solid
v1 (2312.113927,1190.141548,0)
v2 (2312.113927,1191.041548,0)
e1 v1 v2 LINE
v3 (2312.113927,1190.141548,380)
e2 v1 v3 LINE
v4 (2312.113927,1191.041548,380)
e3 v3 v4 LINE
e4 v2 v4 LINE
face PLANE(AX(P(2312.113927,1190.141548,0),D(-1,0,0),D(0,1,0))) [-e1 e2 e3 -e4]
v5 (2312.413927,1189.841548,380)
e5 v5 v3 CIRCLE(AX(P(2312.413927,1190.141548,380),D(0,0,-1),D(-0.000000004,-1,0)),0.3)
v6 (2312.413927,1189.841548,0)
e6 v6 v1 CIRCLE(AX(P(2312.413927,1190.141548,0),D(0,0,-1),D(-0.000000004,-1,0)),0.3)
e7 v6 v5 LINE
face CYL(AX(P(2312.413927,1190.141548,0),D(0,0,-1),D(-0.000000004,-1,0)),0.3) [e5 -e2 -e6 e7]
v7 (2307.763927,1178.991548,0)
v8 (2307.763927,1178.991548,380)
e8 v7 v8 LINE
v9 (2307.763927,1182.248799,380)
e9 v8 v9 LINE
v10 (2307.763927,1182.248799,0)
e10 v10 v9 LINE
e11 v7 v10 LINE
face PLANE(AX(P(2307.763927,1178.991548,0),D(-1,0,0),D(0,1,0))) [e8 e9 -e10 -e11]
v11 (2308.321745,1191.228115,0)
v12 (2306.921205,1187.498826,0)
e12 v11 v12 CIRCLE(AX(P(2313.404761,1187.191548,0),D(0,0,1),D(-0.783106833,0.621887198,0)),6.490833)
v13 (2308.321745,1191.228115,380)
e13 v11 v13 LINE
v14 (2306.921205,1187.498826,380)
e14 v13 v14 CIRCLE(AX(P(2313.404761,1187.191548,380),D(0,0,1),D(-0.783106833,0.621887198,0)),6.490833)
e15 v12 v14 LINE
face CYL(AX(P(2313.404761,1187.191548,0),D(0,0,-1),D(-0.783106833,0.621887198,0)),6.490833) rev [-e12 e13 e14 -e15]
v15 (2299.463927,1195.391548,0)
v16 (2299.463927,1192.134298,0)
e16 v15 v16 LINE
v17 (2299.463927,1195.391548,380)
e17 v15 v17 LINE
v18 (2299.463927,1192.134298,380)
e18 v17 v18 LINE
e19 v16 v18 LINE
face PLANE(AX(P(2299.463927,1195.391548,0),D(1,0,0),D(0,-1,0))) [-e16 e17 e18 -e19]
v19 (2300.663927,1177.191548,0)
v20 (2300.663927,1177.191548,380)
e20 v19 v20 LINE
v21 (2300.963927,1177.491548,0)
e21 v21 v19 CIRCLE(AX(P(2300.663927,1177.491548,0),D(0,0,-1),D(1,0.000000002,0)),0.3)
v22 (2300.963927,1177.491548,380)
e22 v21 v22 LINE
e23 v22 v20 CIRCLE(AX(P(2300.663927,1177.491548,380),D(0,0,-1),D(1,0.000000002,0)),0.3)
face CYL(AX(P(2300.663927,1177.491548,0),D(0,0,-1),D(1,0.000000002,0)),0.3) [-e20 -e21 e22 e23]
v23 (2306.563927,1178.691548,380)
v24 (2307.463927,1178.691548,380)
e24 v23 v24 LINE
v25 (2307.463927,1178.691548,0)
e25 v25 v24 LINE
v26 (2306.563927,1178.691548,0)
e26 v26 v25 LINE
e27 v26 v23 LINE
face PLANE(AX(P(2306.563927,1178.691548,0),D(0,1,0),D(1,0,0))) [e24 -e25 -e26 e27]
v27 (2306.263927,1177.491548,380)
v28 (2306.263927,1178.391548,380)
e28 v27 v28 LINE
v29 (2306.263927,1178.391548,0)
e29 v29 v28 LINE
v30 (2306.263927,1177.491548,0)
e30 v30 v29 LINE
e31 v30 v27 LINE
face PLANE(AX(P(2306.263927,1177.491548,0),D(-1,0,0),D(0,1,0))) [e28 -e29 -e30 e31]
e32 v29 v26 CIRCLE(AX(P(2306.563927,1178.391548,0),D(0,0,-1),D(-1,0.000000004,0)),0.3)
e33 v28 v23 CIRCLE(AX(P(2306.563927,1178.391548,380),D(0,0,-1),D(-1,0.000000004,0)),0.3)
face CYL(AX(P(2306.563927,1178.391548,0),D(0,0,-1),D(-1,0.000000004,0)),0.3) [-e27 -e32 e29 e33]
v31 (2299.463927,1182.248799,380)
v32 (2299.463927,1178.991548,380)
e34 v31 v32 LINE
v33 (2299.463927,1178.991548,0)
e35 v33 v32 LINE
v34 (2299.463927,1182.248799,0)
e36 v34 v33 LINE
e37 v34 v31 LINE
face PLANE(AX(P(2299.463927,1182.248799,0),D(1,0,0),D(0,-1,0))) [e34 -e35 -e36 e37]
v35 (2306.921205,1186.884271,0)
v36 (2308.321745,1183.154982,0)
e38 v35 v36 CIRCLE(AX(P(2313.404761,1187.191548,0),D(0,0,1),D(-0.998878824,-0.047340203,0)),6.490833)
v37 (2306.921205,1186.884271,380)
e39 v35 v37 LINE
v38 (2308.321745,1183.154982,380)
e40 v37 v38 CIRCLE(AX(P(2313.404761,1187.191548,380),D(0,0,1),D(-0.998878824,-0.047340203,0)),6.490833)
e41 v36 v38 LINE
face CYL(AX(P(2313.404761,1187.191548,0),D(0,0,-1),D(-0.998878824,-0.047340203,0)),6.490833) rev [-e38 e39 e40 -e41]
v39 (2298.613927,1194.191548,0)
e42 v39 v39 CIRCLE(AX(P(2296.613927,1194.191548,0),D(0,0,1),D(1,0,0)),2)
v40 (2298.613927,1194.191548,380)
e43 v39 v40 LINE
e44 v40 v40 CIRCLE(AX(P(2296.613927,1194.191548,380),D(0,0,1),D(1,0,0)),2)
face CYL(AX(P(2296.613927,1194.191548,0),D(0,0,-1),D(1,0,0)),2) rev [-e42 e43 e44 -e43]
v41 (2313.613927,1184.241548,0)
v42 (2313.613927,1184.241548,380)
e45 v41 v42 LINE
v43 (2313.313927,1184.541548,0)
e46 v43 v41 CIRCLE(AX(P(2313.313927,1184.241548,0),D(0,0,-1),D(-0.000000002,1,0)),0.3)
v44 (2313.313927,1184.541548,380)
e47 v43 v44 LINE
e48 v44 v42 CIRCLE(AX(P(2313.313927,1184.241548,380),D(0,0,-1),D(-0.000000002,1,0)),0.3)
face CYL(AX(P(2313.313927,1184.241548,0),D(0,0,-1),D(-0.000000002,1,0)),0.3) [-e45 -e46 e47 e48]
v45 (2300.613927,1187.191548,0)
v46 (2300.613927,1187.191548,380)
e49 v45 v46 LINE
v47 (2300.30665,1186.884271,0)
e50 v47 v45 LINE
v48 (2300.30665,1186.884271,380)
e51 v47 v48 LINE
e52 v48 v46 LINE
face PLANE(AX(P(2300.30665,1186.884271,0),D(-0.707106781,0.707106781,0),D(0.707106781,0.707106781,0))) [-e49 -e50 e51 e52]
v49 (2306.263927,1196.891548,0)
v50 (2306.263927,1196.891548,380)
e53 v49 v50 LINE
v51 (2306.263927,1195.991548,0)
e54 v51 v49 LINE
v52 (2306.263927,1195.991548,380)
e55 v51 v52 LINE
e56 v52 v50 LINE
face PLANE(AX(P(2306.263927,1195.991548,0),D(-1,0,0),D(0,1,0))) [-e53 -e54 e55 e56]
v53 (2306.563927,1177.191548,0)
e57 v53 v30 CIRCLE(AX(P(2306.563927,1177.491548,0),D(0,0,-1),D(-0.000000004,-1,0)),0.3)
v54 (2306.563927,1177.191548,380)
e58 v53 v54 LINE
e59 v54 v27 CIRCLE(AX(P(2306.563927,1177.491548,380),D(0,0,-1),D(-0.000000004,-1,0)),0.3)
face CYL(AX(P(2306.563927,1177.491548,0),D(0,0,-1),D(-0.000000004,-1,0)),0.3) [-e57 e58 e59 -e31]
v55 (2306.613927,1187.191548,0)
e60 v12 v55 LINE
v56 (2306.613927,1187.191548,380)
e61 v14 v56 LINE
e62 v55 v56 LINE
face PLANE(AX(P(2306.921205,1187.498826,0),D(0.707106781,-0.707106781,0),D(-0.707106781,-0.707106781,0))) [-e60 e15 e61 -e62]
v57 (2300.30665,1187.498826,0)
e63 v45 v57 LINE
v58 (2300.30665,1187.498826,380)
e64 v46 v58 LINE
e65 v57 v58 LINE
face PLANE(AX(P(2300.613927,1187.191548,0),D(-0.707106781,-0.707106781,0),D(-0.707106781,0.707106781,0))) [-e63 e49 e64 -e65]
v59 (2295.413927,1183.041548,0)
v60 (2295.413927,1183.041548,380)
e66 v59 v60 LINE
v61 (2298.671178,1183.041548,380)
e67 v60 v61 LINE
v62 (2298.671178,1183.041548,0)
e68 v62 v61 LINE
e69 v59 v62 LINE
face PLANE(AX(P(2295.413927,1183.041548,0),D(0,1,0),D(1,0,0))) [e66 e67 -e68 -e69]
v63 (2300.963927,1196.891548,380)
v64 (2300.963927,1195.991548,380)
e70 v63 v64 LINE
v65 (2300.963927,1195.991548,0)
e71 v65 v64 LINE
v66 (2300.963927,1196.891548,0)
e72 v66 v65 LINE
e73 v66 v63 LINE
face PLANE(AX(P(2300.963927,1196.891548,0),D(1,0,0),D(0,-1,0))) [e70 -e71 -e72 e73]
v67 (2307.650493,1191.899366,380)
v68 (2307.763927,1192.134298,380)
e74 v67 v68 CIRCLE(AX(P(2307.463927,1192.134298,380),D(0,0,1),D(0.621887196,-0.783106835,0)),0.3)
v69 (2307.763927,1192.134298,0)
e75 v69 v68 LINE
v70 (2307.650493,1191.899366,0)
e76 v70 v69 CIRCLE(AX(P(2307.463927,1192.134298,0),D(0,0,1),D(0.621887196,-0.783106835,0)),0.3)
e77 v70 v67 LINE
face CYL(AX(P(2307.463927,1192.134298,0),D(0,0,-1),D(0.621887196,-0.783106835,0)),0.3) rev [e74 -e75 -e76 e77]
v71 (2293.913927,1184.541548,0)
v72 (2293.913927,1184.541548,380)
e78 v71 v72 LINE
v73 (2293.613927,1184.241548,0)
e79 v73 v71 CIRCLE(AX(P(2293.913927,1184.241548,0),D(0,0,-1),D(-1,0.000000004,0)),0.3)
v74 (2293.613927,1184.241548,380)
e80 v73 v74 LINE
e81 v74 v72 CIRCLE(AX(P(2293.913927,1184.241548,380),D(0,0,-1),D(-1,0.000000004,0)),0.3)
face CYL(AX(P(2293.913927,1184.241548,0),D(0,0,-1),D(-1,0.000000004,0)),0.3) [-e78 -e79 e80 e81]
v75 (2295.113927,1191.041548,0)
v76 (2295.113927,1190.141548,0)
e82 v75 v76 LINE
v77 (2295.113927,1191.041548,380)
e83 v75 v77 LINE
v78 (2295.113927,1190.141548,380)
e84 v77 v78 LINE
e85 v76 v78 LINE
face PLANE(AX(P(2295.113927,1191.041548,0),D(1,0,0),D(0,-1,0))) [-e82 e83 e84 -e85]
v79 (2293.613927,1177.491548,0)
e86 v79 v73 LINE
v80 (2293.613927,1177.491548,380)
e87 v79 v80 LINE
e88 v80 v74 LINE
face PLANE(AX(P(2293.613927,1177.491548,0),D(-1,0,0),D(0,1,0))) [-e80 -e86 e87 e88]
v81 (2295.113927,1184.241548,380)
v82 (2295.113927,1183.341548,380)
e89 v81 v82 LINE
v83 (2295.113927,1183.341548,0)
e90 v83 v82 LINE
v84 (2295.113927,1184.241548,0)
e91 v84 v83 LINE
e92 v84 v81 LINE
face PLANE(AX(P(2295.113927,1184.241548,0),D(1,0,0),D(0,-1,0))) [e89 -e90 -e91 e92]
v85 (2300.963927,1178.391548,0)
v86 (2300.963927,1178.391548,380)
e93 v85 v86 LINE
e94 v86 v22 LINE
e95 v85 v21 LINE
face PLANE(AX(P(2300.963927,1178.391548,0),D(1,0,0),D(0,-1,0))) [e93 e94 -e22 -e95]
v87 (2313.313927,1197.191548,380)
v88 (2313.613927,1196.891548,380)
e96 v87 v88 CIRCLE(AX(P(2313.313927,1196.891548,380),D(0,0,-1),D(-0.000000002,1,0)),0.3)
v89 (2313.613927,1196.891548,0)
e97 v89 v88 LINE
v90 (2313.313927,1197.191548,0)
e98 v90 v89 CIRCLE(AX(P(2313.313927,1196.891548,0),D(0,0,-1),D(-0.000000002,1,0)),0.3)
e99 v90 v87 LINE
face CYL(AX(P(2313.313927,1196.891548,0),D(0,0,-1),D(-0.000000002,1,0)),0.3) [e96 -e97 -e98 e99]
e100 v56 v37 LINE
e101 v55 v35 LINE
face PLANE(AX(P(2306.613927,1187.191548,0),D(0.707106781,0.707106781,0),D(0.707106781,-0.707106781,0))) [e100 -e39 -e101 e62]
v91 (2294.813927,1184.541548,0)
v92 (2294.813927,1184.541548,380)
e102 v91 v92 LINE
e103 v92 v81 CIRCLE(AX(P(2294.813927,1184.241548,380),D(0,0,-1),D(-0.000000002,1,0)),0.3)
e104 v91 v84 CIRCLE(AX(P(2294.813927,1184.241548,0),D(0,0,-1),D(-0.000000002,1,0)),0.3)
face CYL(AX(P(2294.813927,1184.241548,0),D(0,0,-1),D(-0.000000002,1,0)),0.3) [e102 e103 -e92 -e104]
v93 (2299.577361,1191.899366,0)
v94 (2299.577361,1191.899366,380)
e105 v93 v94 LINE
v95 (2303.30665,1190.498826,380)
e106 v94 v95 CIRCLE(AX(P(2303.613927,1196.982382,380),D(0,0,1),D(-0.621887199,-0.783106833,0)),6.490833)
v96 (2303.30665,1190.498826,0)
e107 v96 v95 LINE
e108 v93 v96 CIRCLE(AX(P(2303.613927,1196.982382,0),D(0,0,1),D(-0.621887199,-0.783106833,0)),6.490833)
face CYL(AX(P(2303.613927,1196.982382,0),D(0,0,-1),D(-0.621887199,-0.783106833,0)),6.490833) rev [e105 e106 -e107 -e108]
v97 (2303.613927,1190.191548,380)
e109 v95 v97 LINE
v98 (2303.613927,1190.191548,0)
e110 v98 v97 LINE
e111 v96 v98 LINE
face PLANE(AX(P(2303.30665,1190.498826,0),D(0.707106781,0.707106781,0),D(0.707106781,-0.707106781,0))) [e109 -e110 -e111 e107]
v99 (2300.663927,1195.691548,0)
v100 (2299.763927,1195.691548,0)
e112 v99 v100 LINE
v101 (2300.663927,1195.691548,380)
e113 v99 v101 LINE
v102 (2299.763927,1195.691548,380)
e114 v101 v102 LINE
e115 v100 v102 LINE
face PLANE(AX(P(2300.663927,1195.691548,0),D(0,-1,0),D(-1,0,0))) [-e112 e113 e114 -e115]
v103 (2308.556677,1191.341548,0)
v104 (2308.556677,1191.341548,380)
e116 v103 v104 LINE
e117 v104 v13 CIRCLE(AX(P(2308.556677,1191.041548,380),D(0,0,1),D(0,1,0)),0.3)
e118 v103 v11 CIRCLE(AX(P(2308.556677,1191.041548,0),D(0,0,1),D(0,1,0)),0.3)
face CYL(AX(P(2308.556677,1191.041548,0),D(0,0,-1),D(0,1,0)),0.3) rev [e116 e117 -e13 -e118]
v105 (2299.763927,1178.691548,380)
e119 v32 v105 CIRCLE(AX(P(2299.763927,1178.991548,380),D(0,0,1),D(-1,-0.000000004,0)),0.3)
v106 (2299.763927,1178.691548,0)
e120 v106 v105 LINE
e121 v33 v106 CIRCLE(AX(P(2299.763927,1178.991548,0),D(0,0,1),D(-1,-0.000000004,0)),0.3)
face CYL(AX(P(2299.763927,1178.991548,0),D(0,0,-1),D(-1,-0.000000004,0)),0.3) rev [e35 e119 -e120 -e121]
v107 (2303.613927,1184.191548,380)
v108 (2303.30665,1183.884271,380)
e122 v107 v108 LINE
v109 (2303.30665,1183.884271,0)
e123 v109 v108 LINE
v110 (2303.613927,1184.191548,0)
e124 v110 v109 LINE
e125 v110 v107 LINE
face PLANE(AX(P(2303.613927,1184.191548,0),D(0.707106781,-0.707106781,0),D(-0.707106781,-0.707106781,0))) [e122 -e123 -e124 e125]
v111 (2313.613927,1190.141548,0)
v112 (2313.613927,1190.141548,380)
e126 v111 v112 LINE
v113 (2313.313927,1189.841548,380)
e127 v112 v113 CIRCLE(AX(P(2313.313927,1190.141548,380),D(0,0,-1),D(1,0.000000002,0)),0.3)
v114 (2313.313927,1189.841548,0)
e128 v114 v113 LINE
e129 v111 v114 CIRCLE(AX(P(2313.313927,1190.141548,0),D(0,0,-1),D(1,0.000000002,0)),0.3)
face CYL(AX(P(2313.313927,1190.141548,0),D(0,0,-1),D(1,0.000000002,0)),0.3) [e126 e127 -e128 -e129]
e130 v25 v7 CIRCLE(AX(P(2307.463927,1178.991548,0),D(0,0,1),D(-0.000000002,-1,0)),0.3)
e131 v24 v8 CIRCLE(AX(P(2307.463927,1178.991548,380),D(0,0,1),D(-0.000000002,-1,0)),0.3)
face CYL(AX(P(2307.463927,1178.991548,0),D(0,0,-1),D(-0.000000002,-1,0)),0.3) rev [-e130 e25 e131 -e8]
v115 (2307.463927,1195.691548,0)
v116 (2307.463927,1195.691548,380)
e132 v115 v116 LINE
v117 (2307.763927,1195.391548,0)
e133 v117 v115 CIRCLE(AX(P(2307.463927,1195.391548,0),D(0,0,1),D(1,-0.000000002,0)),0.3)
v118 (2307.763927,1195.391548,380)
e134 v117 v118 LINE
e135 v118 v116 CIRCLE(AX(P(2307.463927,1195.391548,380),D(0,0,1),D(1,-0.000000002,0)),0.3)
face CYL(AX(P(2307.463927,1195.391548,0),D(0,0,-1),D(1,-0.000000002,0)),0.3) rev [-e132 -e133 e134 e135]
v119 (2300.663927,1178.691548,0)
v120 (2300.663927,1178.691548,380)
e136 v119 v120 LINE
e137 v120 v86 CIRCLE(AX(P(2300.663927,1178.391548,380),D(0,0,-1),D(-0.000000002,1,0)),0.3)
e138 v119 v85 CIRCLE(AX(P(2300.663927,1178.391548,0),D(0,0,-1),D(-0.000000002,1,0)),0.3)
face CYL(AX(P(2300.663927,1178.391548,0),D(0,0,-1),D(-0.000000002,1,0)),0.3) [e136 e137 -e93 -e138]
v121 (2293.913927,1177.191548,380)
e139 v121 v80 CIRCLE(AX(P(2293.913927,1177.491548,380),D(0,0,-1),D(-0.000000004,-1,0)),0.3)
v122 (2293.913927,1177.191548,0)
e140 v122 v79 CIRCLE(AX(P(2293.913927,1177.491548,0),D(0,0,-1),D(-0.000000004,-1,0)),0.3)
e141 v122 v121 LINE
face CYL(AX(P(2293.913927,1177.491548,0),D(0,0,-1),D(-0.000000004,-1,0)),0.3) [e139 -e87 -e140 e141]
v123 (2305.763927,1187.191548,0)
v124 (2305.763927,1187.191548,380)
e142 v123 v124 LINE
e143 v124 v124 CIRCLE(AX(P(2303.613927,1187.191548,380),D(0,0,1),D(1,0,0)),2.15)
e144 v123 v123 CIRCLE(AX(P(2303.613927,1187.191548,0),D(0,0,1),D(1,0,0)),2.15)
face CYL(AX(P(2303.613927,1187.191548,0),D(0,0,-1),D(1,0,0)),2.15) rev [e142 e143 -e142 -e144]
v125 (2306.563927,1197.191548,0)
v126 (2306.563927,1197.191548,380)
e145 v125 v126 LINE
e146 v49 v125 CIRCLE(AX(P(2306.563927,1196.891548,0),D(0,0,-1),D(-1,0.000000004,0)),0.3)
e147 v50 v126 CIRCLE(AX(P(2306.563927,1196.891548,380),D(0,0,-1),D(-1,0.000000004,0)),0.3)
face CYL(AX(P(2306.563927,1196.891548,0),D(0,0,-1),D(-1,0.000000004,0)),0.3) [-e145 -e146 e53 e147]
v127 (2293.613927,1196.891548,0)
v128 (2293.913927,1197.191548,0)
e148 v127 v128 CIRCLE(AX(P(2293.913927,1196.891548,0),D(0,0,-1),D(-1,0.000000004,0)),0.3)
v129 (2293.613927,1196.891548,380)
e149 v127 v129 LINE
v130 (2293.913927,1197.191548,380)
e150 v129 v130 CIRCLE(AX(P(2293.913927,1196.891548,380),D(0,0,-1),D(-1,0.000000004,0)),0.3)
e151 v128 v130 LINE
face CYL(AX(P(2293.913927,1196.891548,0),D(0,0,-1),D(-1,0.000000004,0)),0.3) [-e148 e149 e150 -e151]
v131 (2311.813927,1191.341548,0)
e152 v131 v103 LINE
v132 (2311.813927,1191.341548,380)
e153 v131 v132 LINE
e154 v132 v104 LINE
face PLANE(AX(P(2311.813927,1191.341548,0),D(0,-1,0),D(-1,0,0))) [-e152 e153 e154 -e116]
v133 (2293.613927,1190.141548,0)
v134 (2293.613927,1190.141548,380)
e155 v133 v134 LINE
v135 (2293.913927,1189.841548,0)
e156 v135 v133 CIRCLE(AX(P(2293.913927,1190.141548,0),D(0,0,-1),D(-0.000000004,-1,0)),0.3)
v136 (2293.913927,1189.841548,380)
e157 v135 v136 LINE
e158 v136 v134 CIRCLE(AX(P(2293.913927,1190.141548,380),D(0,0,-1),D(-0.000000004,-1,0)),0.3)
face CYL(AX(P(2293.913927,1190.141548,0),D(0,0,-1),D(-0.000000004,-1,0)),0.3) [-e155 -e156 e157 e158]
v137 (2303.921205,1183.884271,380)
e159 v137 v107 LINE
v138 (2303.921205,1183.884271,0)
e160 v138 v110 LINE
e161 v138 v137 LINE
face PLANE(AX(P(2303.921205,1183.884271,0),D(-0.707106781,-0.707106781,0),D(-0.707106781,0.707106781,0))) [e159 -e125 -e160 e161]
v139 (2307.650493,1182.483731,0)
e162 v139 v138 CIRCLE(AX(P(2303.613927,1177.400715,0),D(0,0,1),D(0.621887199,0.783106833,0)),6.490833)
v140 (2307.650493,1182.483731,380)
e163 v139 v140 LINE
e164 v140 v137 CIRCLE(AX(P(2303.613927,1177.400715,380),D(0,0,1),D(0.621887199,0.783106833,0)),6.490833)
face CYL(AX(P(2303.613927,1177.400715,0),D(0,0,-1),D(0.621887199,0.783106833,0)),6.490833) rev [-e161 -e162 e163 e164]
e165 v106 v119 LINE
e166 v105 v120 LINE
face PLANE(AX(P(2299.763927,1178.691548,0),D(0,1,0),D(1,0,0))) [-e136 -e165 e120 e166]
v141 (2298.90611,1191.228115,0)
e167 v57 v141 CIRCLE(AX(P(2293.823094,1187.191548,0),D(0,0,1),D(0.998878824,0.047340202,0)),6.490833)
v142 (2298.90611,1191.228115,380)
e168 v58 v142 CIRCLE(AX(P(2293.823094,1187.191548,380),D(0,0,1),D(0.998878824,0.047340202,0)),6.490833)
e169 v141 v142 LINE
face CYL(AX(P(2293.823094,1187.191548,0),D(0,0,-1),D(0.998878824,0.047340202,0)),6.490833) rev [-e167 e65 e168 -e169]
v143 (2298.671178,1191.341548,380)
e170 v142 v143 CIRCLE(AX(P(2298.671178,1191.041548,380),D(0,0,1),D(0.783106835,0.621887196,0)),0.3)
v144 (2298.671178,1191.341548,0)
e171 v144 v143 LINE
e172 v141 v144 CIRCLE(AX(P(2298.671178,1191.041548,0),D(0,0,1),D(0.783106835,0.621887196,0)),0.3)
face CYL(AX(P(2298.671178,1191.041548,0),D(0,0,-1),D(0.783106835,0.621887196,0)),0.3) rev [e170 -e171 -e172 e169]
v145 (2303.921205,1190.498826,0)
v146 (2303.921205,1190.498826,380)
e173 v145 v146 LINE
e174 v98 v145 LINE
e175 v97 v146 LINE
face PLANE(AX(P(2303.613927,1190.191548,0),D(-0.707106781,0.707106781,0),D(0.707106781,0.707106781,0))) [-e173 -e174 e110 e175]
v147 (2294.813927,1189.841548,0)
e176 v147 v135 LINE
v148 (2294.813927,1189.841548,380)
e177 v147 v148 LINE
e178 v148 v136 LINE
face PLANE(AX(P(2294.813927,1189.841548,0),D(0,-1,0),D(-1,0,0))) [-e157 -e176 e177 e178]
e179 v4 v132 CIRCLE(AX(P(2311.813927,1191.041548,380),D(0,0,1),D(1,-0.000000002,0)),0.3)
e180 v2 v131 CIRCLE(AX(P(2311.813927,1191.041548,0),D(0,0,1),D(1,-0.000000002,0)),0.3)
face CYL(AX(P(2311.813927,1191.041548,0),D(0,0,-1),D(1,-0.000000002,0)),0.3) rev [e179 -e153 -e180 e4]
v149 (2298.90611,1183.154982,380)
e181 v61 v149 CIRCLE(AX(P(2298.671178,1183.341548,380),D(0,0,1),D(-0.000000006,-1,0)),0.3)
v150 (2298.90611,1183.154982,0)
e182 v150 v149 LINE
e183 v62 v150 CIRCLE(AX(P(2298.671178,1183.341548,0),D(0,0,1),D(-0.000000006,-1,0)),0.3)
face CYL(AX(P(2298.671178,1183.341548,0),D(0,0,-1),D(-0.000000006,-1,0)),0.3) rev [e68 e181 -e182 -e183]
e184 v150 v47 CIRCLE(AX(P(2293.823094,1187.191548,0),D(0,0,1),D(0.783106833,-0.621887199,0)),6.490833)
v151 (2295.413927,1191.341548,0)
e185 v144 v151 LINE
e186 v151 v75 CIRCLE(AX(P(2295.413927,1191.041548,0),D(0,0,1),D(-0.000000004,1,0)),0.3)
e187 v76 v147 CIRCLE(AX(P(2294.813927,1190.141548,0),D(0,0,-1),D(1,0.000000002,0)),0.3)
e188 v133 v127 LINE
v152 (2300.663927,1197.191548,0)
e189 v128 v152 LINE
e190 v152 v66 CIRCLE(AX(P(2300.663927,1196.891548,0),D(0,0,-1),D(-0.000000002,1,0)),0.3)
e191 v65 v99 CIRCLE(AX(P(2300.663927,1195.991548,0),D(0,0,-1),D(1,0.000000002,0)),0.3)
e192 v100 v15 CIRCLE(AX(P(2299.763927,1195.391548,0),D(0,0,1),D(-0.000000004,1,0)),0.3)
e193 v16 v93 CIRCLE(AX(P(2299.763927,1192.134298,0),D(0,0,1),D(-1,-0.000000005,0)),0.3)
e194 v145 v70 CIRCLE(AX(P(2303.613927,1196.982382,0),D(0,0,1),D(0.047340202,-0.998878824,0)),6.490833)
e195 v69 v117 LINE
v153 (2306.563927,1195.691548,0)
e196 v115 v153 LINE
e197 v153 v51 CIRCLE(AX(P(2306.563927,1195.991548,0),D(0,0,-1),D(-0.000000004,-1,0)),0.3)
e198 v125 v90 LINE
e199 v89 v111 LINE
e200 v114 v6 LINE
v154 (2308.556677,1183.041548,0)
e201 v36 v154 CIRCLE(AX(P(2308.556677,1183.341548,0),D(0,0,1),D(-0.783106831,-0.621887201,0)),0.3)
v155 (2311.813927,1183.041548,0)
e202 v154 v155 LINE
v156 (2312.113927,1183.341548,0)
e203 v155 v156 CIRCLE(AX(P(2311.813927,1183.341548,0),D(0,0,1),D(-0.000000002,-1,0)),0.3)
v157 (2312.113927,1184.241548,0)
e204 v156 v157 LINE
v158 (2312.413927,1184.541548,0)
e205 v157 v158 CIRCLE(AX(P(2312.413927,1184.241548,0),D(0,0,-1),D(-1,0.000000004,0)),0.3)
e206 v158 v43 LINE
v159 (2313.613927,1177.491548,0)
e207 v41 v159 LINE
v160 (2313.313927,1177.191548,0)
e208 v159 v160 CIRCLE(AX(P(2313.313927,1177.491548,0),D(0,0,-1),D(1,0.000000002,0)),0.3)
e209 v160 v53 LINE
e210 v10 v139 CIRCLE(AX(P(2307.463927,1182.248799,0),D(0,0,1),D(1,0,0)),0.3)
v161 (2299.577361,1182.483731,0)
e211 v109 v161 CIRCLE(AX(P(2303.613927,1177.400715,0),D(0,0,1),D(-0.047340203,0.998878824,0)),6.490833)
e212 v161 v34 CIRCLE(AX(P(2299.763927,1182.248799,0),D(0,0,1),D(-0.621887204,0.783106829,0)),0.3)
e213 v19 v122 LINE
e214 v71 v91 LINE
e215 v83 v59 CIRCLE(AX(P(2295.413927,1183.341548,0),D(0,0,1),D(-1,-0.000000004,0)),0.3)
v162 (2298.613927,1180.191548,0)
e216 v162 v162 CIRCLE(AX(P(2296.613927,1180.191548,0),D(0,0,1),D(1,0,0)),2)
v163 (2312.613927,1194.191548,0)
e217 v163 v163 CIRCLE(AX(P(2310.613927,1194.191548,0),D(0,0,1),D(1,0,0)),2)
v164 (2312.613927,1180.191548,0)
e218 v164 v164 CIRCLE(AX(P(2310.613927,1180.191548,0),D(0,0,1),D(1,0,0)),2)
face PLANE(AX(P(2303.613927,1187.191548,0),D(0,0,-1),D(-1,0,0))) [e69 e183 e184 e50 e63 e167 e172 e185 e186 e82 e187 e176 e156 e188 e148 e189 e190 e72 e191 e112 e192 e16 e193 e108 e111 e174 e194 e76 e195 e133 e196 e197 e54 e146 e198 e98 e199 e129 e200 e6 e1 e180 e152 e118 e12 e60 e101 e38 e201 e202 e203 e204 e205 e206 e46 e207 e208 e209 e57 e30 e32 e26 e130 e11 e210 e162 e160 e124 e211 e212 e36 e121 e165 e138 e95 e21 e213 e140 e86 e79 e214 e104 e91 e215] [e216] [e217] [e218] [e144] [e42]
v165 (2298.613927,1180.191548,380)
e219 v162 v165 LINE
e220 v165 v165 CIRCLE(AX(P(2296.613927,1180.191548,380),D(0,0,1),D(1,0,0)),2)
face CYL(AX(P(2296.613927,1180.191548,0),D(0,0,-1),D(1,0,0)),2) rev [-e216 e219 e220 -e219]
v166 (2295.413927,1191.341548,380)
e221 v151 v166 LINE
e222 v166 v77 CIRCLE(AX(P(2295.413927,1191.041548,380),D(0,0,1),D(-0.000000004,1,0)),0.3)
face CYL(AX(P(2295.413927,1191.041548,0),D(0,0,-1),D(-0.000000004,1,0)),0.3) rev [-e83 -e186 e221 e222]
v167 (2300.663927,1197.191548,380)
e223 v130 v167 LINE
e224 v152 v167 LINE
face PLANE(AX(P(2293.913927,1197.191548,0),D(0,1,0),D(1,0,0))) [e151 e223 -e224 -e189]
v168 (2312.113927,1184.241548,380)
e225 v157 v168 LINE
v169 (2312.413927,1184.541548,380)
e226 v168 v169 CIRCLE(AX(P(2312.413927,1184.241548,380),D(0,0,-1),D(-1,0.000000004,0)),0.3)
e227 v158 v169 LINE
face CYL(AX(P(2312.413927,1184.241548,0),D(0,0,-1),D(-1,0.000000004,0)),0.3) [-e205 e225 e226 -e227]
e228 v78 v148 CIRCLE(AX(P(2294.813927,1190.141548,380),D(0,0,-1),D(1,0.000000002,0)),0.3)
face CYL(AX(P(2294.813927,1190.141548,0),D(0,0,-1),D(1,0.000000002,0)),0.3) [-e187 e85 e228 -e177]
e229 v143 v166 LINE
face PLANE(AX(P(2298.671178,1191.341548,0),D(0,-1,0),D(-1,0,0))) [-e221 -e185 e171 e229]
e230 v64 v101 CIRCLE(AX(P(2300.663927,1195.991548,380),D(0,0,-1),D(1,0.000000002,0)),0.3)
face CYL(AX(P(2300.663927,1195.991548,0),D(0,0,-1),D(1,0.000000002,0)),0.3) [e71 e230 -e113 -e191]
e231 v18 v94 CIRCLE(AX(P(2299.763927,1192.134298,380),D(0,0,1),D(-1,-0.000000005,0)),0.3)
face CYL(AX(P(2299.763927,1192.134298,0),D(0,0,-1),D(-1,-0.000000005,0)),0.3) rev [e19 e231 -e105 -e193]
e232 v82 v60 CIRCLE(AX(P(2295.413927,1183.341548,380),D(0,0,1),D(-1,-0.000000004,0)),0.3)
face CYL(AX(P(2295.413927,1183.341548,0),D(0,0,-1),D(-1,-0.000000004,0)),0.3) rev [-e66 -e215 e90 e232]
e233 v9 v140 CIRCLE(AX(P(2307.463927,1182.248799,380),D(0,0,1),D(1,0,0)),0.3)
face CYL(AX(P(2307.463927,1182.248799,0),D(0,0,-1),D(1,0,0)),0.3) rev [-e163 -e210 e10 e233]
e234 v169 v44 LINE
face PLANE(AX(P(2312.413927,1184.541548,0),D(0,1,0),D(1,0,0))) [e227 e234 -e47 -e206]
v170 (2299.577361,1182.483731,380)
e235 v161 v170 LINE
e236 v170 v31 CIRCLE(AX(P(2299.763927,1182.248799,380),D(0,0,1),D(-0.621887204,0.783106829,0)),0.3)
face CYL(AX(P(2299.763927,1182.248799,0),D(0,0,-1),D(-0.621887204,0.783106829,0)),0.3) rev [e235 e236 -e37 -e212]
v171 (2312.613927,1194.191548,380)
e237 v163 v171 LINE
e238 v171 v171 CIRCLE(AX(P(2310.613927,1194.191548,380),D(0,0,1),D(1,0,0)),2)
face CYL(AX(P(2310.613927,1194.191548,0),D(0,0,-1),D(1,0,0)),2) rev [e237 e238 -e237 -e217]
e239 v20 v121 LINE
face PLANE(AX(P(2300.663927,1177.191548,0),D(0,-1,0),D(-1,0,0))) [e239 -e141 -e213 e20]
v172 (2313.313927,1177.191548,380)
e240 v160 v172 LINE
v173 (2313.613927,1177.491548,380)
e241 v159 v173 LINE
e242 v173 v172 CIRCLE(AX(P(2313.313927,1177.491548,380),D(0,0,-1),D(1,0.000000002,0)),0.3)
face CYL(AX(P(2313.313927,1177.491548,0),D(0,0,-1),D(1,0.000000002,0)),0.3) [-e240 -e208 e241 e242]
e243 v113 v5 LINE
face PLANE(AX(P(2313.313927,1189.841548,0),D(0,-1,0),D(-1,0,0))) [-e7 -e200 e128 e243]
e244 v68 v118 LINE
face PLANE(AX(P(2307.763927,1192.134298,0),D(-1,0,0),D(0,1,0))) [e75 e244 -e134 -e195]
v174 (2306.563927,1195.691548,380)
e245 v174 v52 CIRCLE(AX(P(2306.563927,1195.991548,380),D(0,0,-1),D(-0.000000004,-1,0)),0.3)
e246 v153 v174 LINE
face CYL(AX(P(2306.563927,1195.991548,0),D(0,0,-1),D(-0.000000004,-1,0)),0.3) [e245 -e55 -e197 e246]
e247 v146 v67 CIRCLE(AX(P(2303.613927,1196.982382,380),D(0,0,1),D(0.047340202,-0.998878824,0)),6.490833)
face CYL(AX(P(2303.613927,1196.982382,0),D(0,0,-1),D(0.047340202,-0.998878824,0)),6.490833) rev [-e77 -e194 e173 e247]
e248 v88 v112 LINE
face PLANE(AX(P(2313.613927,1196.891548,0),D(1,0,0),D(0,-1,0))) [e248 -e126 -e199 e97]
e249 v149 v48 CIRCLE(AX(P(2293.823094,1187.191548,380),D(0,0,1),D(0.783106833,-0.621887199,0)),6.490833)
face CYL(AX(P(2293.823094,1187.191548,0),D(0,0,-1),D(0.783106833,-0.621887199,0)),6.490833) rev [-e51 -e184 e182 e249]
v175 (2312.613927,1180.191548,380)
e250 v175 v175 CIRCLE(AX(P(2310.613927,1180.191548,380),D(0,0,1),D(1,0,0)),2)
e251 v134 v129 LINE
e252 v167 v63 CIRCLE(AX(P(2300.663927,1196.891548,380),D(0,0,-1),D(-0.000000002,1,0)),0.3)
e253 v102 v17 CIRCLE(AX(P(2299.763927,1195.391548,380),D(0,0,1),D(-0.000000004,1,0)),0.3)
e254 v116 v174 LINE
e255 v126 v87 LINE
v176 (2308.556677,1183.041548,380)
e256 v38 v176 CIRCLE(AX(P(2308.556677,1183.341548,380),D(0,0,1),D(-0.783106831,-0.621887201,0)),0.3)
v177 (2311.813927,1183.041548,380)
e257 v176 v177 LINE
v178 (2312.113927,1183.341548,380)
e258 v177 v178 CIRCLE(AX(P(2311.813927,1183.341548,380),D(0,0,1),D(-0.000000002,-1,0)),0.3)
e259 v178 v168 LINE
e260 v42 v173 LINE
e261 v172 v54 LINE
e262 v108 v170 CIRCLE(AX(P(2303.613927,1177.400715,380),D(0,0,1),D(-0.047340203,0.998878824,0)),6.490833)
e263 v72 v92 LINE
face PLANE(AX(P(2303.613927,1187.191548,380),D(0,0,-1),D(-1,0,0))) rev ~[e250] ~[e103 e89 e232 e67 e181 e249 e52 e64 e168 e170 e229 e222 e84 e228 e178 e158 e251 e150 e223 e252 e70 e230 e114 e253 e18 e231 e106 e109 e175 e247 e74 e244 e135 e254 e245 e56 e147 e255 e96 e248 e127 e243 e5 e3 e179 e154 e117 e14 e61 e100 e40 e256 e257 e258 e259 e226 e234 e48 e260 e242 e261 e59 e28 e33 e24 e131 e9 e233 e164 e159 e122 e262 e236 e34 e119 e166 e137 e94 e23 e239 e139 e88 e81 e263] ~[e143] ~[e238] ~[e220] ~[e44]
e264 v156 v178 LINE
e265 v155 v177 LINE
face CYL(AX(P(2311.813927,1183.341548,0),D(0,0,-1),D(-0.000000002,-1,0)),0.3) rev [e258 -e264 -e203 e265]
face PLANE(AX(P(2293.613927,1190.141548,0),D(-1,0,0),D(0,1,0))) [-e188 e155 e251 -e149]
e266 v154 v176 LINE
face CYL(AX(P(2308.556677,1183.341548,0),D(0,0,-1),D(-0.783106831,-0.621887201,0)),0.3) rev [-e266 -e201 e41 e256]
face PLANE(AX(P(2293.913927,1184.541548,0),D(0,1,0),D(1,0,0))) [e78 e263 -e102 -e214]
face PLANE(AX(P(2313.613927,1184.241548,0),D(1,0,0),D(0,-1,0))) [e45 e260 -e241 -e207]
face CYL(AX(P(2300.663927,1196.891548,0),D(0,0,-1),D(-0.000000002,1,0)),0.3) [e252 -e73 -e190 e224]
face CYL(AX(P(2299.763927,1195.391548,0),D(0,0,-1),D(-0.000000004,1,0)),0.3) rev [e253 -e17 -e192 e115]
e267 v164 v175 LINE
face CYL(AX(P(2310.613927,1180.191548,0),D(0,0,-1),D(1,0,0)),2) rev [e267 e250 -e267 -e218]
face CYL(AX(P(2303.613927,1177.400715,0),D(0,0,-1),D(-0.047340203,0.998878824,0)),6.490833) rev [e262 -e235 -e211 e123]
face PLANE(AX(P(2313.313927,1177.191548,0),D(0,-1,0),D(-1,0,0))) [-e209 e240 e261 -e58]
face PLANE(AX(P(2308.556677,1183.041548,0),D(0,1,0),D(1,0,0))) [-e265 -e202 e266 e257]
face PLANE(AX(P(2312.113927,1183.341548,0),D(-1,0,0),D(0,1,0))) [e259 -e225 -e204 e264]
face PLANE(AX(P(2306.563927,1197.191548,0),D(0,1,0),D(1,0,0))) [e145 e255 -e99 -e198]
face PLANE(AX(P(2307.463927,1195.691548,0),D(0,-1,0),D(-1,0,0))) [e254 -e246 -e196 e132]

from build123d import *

# Parameters (mm, degrees)
MODEL_R         = 2.15
MODEL_R_2       = 2
EXTRUDE_1_DEPTH = 380


with BuildPart() as part:
    # Model → 보스-돌출1 (new body)
    with BuildSketch(Plane.XY):
        with BuildLine():
            Line((2307.763927197, 1192.134297913), (2307.763927197, 1195.391548465))
            ThreePointArc((2307.763927197, 1195.391548465), (2307.676059232, 1195.603680499), (2307.463927197, 1195.691548465))
            Line((2307.463927197, 1195.691548465), (2306.563927197, 1195.691548465))
            ThreePointArc((2306.563927197, 1195.691548465), (2306.351795163, 1195.779416431), (2306.263927197, 1195.991548465))
            Line((2306.263927197, 1195.991548465), (2306.263927197, 1196.891548465))
            ThreePointArc((2306.263927197, 1196.891548465), (2306.351795163, 1197.103680499), (2306.563927197, 1197.191548465))
            Line((2306.563927197, 1197.191548465), (2313.313927197, 1197.191548465))
            ThreePointArc((2313.313927197, 1197.191548465), (2313.526059232, 1197.103680499), (2313.613927197, 1196.891548465))
            Line((2313.613927197, 1196.891548465), (2313.613927197, 1190.141548465))
            ThreePointArc((2313.613927197, 1190.141548465), (2313.526059232, 1189.929416431), (2313.313927197, 1189.841548465))
            Line((2313.313927197, 1189.841548465), (2312.413927197, 1189.841548465))
            ThreePointArc((2312.413927197, 1189.841548465), (2312.201795163, 1189.929416431), (2312.113927197, 1190.141548465))
            Line((2312.113927197, 1190.141548465), (2312.113927197, 1191.041548465))
            ThreePointArc((2312.113927197, 1191.041548465), (2312.026059232, 1191.253680499), (2311.813927197, 1191.341548465))
            Line((2311.813927197, 1191.341548465), (2308.556676645, 1191.341548465))
            ThreePointArc((2308.556676645, 1191.341548465), (2308.426234796, 1191.311705686), (2308.321744595, 1191.228114625))
            ThreePointArc((2308.321744595, 1191.228114625), (2307.328306374, 1189.47356999), (2306.921204563, 1187.498825831))
            Line((2306.921204563, 1187.498825831), (2306.613927197, 1187.191548465))
            Line((2306.613927197, 1187.191548465), (2306.921204563, 1186.884271099))
            ThreePointArc((2306.921204563, 1186.884271099), (2307.328306374, 1184.90952694), (2308.321744595, 1183.154982305))
            ThreePointArc((2308.321744595, 1183.154982305), (2308.426234796, 1183.071391244), (2308.556676645, 1183.041548465))
            Line((2308.556676645, 1183.041548465), (2311.813927197, 1183.041548465))
            ThreePointArc((2311.813927197, 1183.041548465), (2312.026059232, 1183.129416431), (2312.113927197, 1183.341548465))
            Line((2312.113927197, 1183.341548465), (2312.113927197, 1184.241548465))
            ThreePointArc((2312.113927197, 1184.241548465), (2312.201795163, 1184.453680499), (2312.413927197, 1184.541548465))
            Line((2312.413927197, 1184.541548465), (2313.313927197, 1184.541548465))
            ThreePointArc((2313.313927197, 1184.541548465), (2313.526059232, 1184.453680499), (2313.613927197, 1184.241548465))
            Line((2313.613927197, 1184.241548465), (2313.613927197, 1177.491548465))
            ThreePointArc((2313.613927197, 1177.491548465), (2313.526059232, 1177.279416431), (2313.313927197, 1177.191548465))
            Line((2313.313927197, 1177.191548465), (2306.563927197, 1177.191548465))
            ThreePointArc((2306.563927197, 1177.191548465), (2306.351795163, 1177.279416431), (2306.263927197, 1177.491548465))
            Line((2306.263927197, 1177.491548465), (2306.263927197, 1178.391548465))
            ThreePointArc((2306.263927197, 1178.391548465), (2306.351795163, 1178.603680499), (2306.563927197, 1178.691548465))
            Line((2306.563927197, 1178.691548465), (2307.463927197, 1178.691548465))
            ThreePointArc((2307.463927197, 1178.691548465), (2307.676059232, 1178.779416431), (2307.763927197, 1178.991548465))
            Line((2307.763927197, 1178.991548465), (2307.763927197, 1182.248799017))
            ThreePointArc((2307.763927197, 1182.248799017), (2307.734084418, 1182.379240866), (2307.650493357, 1182.483731067))
            ThreePointArc((2307.650493357, 1182.483731067), (2305.895948722, 1183.477169289), (2303.921204563, 1183.884271099))
            Line((2303.921204563, 1183.884271099), (2303.613927197, 1184.191548465))
            Line((2303.613927197, 1184.191548465), (2303.306649831, 1183.884271099))
            ThreePointArc((2303.306649831, 1183.884271099), (2301.331905673, 1183.477169289), (2299.577361038, 1182.483731067))
            ThreePointArc((2299.577361038, 1182.483731067), (2299.493769977, 1182.379240866), (2299.463927197, 1182.248799017))
            Line((2299.463927197, 1182.248799017), (2299.463927197, 1178.991548465))
            ThreePointArc((2299.463927197, 1178.991548465), (2299.551795163, 1178.779416431), (2299.763927197, 1178.691548465))
            Line((2299.763927197, 1178.691548465), (2300.663927197, 1178.691548465))
            ThreePointArc((2300.663927197, 1178.691548465), (2300.876059232, 1178.603680499), (2300.963927197, 1178.391548465))
            Line((2300.963927197, 1178.391548465), (2300.963927197, 1177.491548465))
            ThreePointArc((2300.963927197, 1177.491548465), (2300.876059232, 1177.279416431), (2300.663927197, 1177.191548465))
            Line((2300.663927197, 1177.191548465), (2293.913927197, 1177.191548465))
            ThreePointArc((2293.913927197, 1177.191548465), (2293.701795163, 1177.279416431), (2293.613927197, 1177.491548465))
            Line((2293.613927197, 1177.491548465), (2293.613927197, 1184.241548465))
            ThreePointArc((2293.613927197, 1184.241548465), (2293.701795163, 1184.453680499), (2293.913927197, 1184.541548465))
            Line((2293.913927197, 1184.541548465), (2294.813927197, 1184.541548465))
            ThreePointArc((2294.813927197, 1184.541548465), (2295.026059232, 1184.453680499), (2295.113927197, 1184.241548465))
            Line((2295.113927197, 1184.241548465), (2295.113927197, 1183.341548465))
            ThreePointArc((2295.113927197, 1183.341548465), (2295.201795163, 1183.129416431), (2295.413927197, 1183.041548465))
            Line((2295.413927197, 1183.041548465), (2298.671177749, 1183.041548465))
            ThreePointArc((2298.671177749, 1183.041548465), (2298.801619599, 1183.071391244), (2298.906109799, 1183.154982305))
            ThreePointArc((2298.906109799, 1183.154982305), (2299.899548021, 1184.90952694), (2300.306649831, 1186.884271099))
            Line((2300.306649831, 1186.884271099), (2300.613927197, 1187.191548465))
            Line((2300.613927197, 1187.191548465), (2300.306649831, 1187.498825831))
            ThreePointArc((2300.306649831, 1187.498825831), (2299.899548021, 1189.47356999), (2298.906109799, 1191.228114625))
            ThreePointArc((2298.906109799, 1191.228114625), (2298.801619599, 1191.311705686), (2298.671177749, 1191.341548465))
            Line((2298.671177749, 1191.341548465), (2295.413927197, 1191.341548465))
            ThreePointArc((2295.413927197, 1191.341548465), (2295.201795163, 1191.253680499), (2295.113927197, 1191.041548465))
            Line((2295.113927197, 1191.041548465), (2295.113927197, 1190.141548465))
            ThreePointArc((2295.113927197, 1190.141548465), (2295.026059232, 1189.929416431), (2294.813927197, 1189.841548465))
            Line((2294.813927197, 1189.841548465), (2293.913927197, 1189.841548465))
            ThreePointArc((2293.913927197, 1189.841548465), (2293.701795163, 1189.929416431), (2293.613927197, 1190.141548465))
            Line((2293.613927197, 1190.141548465), (2293.613927197, 1196.891548465))
            ThreePointArc((2293.613927197, 1196.891548465), (2293.701795163, 1197.103680499), (2293.913927197, 1197.191548465))
            Line((2293.913927197, 1197.191548465), (2300.663927197, 1197.191548465))
            ThreePointArc((2300.663927197, 1197.191548465), (2300.876059232, 1197.103680499), (2300.963927197, 1196.891548465))
            Line((2300.963927197, 1196.891548465), (2300.963927197, 1195.991548465))
            ThreePointArc((2300.963927197, 1195.991548465), (2300.876059232, 1195.779416431), (2300.663927197, 1195.691548465))
            Line((2300.663927197, 1195.691548465), (2299.763927197, 1195.691548465))
            ThreePointArc((2299.763927197, 1195.691548465), (2299.551795163, 1195.603680499), (2299.463927197, 1195.391548465))
            Line((2299.463927197, 1195.391548465), (2299.463927197, 1192.134297913))
            ThreePointArc((2299.463927197, 1192.134297913), (2299.493769977, 1192.003856063), (2299.577361038, 1191.899365863))
            ThreePointArc((2299.577361038, 1191.899365863), (2301.331905673, 1190.905927641), (2303.306649831, 1190.498825831))
            Line((2303.306649831, 1190.498825831), (2303.613927197, 1190.191548465))
            Line((2303.613927197, 1190.191548465), (2303.921204563, 1190.498825831))
            ThreePointArc((2303.921204563, 1190.498825831), (2305.895948722, 1190.905927641), (2307.650493357, 1191.899365863))
            ThreePointArc((2307.650493357, 1191.899365863), (2307.734084418, 1192.003856063), (2307.763927197, 1192.134297913))
        make_face()
        with Locations((2303.613927197, 1187.191548465)):
            Circle(MODEL_R, mode=Mode.SUBTRACT)
        with Locations((2296.613927197, 1194.191548465)):
            Circle(MODEL_R_2, mode=Mode.SUBTRACT)
        with Locations((2296.613927197, 1180.191548465)):
            Circle(MODEL_R_2, mode=Mode.SUBTRACT)
        with Locations((2310.613927197, 1194.191548465)):
            Circle(MODEL_R_2, mode=Mode.SUBTRACT)
        with Locations((2310.613927197, 1180.191548465)):
            Circle(MODEL_R_2, mode=Mode.SUBTRACT)
    extrude(amount=EXTRUDE_1_DEPTH)


solid = part.part
